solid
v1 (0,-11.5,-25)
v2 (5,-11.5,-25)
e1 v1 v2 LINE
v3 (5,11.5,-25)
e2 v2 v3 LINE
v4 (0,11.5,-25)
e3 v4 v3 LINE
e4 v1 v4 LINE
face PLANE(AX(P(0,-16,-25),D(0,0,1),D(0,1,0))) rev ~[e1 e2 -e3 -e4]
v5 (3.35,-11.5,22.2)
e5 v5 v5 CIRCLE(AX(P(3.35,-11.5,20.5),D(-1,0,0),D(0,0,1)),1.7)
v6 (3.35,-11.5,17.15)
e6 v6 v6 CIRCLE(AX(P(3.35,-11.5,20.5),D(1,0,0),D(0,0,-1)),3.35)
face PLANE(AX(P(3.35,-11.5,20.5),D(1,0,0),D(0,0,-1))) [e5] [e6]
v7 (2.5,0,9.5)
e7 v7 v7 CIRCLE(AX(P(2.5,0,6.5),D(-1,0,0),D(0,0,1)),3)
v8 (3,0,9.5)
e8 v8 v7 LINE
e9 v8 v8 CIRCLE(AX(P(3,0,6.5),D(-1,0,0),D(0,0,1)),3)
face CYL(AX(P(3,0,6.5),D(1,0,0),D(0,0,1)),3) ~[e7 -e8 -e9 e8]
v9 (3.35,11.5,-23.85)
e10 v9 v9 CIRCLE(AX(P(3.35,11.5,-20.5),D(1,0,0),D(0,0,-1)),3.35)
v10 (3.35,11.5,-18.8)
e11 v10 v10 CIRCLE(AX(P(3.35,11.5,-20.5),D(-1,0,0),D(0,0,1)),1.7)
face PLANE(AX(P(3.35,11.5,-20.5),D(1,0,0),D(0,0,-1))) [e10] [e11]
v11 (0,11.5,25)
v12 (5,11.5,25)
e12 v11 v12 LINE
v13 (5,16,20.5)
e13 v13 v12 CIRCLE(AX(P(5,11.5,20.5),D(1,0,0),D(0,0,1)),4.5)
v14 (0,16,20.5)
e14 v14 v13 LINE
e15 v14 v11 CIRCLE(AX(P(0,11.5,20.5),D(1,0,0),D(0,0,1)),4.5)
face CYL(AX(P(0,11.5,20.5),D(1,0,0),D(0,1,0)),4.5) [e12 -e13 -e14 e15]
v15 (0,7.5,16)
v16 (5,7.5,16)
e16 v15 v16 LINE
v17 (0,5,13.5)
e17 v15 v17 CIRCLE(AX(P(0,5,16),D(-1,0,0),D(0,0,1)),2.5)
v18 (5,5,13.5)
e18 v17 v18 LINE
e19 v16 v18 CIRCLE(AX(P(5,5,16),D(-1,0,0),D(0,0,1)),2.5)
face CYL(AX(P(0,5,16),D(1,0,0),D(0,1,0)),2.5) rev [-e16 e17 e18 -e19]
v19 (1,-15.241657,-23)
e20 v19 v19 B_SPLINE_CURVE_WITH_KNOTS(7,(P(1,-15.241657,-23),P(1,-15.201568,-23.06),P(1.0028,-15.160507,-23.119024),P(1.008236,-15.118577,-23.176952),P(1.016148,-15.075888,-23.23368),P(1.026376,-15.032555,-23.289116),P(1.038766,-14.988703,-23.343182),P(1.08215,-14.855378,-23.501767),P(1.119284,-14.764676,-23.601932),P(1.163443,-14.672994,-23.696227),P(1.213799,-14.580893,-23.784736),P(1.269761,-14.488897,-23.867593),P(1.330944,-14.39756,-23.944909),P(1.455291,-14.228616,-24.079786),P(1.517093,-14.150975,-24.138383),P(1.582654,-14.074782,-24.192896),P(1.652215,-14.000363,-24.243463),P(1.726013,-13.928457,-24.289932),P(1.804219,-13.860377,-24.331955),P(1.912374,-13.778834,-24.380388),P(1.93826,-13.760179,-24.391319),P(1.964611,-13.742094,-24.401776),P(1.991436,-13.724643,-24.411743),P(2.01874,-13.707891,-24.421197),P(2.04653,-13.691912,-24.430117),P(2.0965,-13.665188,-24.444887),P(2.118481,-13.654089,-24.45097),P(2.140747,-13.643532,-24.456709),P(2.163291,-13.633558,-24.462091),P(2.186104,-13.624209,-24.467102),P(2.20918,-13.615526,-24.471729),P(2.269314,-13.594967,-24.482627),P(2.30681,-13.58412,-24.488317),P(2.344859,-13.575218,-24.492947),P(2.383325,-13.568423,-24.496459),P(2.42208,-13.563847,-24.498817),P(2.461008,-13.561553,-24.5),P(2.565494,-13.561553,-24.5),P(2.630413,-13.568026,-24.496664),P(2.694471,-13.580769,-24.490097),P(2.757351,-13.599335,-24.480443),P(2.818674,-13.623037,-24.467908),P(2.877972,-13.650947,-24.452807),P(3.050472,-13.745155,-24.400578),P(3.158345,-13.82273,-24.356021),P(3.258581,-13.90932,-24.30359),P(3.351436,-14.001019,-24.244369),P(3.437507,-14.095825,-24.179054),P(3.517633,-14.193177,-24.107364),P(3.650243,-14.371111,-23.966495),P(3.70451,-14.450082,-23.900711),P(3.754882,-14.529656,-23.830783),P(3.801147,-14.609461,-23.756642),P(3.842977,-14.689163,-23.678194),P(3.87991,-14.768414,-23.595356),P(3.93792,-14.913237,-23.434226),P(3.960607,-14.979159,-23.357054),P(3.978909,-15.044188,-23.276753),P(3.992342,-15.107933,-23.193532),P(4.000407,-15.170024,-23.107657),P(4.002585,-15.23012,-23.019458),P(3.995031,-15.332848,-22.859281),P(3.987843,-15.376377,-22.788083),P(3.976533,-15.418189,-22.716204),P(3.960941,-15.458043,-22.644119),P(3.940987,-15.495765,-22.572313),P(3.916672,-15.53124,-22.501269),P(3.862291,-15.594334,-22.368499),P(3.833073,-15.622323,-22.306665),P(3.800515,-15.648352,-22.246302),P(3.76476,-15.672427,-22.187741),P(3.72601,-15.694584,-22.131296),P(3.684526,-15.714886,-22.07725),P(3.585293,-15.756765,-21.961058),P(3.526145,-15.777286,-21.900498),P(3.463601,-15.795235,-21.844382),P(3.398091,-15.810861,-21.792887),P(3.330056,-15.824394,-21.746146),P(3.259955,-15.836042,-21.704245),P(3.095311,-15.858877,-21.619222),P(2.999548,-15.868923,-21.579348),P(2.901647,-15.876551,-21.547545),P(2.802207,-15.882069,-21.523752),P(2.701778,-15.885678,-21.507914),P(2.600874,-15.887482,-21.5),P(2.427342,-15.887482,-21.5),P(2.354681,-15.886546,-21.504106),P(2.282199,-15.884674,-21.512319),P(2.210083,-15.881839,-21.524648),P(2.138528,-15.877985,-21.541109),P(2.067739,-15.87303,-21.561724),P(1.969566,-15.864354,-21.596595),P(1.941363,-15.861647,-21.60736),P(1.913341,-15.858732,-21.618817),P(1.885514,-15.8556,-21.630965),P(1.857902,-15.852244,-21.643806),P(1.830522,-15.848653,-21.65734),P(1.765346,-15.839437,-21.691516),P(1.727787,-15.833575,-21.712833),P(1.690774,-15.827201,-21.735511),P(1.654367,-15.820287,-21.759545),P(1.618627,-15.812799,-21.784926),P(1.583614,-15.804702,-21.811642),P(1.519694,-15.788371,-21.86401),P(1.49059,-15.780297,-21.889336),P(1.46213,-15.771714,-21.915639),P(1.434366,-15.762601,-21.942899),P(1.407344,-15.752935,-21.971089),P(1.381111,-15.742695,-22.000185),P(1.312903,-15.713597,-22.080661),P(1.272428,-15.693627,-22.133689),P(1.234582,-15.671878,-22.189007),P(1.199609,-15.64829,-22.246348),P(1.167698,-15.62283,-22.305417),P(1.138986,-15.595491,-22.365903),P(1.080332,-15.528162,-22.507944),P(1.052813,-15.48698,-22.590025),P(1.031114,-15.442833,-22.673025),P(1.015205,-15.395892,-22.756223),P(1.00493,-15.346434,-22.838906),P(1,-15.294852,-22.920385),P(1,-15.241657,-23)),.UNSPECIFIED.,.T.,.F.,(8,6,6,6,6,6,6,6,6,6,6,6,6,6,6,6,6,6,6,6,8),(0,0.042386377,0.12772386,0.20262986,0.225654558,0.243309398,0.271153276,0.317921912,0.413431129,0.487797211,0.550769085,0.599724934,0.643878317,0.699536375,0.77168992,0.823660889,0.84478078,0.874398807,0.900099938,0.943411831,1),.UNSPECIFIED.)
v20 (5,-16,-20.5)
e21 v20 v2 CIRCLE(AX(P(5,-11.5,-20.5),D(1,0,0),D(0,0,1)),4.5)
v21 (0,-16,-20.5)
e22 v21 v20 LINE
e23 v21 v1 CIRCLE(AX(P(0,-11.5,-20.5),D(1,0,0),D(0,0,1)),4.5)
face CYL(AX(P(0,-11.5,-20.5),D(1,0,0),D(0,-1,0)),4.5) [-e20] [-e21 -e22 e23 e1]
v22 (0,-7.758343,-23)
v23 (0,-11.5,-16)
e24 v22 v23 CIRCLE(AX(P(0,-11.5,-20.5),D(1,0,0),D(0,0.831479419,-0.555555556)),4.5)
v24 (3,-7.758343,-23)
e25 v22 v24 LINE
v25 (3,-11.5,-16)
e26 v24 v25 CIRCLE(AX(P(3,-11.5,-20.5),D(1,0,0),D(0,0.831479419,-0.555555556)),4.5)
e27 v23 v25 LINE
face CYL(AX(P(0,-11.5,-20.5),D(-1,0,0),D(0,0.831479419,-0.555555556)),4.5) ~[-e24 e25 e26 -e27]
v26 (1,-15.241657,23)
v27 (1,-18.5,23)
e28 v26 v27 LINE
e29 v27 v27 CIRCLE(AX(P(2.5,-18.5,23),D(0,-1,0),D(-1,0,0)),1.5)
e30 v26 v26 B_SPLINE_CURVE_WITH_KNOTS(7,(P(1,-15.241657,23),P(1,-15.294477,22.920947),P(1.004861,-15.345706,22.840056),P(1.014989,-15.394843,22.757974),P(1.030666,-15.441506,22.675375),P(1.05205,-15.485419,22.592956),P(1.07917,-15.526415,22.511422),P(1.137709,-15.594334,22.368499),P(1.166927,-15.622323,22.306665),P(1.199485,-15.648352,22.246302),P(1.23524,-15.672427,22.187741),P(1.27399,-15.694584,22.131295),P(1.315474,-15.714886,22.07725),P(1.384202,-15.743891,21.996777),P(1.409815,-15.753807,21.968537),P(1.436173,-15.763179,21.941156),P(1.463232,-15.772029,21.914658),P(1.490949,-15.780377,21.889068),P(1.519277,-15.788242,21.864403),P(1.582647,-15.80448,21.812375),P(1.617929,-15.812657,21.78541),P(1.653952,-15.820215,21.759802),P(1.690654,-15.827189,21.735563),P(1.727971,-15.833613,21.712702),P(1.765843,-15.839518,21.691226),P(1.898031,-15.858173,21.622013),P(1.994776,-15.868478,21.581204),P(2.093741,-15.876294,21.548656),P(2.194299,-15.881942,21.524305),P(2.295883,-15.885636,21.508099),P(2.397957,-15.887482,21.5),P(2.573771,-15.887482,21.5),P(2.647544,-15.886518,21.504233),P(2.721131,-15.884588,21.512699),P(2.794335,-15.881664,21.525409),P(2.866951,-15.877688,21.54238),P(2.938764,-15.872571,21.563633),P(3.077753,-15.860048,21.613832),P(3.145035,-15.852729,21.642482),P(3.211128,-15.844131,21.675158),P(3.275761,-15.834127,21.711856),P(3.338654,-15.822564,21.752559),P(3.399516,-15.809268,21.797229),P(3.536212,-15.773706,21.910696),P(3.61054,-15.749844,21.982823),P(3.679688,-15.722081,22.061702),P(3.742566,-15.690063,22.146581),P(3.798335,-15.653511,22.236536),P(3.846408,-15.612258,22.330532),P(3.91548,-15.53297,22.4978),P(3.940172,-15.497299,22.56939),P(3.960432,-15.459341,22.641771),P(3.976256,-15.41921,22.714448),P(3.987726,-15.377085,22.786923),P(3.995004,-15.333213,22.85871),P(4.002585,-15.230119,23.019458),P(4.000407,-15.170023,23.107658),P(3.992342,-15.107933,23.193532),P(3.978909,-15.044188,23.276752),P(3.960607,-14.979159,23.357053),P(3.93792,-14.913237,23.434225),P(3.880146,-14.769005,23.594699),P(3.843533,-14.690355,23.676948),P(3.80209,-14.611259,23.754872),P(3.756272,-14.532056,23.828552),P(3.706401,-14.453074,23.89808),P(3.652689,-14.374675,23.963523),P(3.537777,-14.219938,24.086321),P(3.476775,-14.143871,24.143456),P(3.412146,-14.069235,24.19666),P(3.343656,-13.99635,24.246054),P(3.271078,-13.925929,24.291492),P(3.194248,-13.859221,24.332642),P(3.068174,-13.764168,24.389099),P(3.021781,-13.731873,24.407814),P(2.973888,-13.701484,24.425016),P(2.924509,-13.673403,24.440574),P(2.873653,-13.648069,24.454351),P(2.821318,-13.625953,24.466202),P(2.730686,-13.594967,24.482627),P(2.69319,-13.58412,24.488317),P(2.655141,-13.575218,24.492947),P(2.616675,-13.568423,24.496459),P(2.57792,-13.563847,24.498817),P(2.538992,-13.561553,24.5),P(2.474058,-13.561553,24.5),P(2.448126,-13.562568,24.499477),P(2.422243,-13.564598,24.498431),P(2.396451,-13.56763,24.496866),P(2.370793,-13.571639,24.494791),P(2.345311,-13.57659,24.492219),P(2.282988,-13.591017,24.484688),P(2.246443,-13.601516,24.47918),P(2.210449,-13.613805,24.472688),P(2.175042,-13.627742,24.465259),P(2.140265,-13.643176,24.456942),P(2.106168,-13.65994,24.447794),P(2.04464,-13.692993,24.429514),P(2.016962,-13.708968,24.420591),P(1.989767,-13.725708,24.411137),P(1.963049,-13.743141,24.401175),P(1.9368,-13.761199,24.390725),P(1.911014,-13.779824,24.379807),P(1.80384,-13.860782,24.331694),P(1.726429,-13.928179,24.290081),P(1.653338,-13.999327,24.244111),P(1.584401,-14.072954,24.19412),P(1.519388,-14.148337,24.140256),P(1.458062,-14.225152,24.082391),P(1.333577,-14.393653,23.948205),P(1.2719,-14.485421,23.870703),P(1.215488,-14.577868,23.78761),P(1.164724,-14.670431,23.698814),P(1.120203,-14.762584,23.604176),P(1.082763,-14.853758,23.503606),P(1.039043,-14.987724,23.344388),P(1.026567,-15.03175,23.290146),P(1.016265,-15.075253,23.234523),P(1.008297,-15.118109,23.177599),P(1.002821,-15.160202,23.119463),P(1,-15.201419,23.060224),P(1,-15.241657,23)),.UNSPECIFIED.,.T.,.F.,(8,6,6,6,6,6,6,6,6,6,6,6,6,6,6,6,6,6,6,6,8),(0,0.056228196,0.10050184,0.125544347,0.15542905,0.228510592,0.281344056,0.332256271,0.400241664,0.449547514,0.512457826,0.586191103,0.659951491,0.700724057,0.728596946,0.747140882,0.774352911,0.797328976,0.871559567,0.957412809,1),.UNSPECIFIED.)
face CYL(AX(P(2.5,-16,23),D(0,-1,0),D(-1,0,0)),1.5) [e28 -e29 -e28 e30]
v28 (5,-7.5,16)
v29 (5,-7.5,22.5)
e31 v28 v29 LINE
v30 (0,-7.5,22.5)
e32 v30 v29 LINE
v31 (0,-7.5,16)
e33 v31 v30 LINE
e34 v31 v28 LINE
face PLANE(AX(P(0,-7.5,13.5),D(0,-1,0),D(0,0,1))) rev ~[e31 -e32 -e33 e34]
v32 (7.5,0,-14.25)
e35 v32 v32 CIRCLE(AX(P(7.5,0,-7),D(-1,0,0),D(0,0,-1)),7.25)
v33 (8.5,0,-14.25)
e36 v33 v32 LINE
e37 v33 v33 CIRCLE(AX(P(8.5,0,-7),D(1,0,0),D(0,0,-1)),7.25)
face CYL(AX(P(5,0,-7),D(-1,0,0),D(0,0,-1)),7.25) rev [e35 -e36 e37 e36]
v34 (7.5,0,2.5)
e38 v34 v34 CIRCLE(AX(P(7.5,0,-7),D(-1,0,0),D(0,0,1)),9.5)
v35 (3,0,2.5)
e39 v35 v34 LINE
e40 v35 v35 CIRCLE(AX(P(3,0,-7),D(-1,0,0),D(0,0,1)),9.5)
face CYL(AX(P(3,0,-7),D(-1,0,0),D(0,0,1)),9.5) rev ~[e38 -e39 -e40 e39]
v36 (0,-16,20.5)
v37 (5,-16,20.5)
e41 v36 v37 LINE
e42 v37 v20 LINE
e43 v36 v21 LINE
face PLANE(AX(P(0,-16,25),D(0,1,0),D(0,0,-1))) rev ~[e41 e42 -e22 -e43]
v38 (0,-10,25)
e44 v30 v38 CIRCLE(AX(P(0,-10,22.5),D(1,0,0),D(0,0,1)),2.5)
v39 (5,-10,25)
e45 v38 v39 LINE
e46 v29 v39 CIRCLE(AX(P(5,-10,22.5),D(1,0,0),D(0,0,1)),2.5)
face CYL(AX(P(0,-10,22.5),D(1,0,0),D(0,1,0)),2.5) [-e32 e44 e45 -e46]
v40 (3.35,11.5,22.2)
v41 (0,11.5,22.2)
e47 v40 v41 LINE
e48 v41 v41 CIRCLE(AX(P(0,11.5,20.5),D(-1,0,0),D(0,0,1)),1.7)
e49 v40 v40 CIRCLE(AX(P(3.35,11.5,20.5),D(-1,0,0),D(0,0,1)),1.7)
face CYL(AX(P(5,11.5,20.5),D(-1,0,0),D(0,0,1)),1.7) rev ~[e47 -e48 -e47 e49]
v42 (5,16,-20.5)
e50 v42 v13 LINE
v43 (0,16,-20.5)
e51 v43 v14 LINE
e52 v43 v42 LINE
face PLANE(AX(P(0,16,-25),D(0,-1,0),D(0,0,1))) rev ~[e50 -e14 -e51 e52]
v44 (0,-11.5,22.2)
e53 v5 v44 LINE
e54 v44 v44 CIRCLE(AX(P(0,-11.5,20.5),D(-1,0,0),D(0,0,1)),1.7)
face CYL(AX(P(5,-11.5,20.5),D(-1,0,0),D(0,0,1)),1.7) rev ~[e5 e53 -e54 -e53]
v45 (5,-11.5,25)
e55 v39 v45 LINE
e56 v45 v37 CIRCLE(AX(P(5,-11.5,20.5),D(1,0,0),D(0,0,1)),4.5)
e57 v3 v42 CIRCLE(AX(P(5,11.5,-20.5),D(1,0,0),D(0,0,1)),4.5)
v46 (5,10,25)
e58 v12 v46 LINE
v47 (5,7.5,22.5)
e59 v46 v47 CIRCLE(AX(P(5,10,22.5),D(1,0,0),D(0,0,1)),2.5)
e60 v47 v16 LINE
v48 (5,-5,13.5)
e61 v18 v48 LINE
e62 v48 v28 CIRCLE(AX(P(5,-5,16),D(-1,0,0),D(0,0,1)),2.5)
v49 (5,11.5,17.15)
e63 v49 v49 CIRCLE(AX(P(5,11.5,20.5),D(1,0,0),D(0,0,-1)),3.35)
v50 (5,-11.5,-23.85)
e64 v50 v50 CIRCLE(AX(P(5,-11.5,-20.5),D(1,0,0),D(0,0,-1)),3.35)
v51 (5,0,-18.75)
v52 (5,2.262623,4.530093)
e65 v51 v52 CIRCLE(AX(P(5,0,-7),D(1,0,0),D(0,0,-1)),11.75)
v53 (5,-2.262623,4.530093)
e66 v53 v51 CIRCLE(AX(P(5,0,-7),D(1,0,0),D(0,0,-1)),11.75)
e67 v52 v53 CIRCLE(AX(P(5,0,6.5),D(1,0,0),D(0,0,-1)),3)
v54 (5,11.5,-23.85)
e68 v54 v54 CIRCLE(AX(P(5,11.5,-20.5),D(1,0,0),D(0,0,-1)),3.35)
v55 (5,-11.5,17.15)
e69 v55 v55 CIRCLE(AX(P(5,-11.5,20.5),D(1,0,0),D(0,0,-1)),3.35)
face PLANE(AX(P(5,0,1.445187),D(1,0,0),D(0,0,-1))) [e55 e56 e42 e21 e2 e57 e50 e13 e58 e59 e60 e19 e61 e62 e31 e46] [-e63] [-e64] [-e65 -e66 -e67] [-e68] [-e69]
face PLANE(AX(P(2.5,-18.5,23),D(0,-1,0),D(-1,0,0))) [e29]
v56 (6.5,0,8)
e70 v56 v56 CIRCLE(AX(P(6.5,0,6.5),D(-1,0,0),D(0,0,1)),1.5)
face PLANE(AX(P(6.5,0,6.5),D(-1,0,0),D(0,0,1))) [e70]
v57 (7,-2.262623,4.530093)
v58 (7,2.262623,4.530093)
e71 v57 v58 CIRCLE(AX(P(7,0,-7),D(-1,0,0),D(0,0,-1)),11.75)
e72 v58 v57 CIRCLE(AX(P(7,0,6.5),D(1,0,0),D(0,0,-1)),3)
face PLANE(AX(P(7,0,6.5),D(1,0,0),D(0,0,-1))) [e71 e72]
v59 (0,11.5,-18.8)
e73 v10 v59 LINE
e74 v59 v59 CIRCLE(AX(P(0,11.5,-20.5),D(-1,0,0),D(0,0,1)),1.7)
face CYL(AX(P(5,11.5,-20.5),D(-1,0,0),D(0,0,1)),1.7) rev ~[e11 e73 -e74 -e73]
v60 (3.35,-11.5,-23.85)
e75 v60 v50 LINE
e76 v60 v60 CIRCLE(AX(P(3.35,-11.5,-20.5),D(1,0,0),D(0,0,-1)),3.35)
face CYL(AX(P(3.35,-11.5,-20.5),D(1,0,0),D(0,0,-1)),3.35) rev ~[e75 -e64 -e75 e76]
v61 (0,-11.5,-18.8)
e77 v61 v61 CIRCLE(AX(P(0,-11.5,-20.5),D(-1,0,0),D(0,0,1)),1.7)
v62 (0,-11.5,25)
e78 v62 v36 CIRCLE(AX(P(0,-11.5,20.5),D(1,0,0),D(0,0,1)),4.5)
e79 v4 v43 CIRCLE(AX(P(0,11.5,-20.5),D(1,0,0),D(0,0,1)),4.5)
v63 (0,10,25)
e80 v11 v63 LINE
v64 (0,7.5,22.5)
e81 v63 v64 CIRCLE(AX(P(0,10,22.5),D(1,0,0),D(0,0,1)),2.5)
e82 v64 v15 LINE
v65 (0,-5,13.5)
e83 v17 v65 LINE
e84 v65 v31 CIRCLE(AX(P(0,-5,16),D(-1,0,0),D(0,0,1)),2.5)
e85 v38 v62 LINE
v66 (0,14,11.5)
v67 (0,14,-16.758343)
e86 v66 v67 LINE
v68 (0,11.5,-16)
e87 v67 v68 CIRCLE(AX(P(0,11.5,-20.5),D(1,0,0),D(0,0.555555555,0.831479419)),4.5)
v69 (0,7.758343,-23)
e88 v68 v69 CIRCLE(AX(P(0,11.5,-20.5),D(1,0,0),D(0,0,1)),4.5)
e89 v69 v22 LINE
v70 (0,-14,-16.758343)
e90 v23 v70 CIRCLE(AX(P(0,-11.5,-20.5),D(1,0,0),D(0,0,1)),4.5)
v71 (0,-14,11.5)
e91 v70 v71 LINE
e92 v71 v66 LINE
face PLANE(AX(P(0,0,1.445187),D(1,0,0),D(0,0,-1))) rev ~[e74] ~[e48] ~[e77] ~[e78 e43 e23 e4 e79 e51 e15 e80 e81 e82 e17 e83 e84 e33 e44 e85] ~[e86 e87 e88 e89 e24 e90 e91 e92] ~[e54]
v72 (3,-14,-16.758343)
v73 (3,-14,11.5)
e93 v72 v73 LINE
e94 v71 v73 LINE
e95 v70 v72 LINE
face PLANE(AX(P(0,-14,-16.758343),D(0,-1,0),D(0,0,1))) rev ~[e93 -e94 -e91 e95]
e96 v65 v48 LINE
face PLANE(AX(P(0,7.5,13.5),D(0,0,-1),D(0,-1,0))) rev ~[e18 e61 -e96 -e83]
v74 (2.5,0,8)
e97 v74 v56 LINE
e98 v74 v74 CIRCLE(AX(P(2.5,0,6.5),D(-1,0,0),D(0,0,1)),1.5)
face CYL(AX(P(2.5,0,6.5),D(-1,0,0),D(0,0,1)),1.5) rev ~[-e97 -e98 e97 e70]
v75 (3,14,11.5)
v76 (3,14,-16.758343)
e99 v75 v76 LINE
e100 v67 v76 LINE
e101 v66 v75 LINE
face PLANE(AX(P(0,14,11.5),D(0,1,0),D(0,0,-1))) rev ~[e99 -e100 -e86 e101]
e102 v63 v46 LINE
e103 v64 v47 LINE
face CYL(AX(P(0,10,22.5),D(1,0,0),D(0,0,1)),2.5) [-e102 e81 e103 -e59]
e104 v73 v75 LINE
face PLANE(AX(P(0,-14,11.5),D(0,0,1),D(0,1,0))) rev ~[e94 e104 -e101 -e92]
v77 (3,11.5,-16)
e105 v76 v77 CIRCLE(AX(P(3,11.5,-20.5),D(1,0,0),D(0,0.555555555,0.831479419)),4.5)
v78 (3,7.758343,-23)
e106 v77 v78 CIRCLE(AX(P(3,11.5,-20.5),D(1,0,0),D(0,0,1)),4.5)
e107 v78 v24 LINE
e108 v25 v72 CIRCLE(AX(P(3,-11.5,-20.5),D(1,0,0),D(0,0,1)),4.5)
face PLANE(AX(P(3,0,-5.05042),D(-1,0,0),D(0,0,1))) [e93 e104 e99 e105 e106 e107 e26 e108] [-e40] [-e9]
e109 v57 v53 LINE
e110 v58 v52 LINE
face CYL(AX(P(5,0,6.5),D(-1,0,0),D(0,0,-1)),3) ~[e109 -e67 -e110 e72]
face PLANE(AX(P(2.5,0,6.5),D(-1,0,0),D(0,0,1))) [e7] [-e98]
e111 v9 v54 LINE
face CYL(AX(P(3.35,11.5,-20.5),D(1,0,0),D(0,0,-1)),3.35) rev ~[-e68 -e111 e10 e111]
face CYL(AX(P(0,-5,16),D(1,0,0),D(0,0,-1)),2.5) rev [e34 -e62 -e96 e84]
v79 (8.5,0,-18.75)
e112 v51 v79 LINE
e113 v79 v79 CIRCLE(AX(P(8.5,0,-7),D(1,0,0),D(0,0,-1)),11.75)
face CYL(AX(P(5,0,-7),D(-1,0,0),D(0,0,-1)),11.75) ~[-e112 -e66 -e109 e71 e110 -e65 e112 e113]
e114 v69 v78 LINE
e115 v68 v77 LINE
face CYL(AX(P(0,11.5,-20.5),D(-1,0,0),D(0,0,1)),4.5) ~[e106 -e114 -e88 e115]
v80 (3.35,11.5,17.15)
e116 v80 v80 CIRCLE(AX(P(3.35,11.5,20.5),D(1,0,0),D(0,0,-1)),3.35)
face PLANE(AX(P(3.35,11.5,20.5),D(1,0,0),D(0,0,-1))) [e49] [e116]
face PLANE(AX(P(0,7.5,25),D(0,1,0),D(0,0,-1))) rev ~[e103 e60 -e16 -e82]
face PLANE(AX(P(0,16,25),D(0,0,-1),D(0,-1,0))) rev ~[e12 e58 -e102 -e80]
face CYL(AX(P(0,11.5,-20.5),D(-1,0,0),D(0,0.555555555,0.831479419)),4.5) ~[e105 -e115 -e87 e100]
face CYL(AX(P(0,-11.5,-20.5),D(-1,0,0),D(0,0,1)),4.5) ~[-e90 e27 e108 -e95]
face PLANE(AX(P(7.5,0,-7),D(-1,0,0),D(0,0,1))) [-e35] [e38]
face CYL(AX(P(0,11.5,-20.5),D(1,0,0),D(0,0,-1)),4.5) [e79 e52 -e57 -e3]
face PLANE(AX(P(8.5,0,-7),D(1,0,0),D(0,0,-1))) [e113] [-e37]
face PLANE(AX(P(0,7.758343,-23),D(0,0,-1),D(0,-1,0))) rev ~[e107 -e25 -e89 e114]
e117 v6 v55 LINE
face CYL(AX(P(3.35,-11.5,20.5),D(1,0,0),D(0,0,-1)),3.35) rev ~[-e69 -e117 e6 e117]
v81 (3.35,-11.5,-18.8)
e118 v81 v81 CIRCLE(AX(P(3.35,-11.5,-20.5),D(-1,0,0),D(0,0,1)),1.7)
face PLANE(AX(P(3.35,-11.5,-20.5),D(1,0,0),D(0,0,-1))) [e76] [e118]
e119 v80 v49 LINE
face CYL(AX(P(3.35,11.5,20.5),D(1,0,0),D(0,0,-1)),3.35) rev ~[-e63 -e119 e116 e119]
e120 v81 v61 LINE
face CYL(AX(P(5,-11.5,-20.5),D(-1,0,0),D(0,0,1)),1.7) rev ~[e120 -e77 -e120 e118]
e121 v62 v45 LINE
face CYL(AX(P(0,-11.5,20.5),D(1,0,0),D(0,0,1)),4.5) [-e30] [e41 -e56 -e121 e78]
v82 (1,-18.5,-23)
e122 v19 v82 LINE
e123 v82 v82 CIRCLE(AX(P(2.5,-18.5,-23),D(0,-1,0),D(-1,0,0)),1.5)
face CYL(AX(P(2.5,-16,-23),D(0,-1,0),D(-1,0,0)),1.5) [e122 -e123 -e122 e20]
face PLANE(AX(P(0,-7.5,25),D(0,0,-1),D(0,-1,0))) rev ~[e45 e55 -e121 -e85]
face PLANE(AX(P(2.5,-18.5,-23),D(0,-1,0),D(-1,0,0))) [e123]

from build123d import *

# Parameters (mm, degrees)
SKETCH1_R                       = 7.25
BOSS_EXTRUDE1_DEPTH             = 5
SKETCH2_R                       = 11.75
SKETCH2_R_2                     = 7.25
BOSS_EXTRUDE2_DEPTH             = 3.5
FILLET1_R                       = 4.5
FILLET2_R                       = 2.5
SKETCH3_R                       = 1.5
BOSS_EXTRUDE3_DEPTH             = 2.5
BOSS_EXTRUDE3_DIRECTION_2_REACH = 34
CBORE_FOR_M3_SBHCS1_D           = 3.4
CBORE_FOR_M3_SBHCS1_CBORE_D     = 6.7
CBORE_FOR_M3_SBHCS1_CBORE_DEPTH = 1.65
SKETCH6_R                       = 7.25
CUT_EXTRUDE1_DEPTH              = 3
SKETCH7_R                       = 9.5
CUT_EXTRUDE2_DEPTH              = 4.5
SKETCH10_R                      = 3
BOSS_EXTRUDE5_DEPTH             = 2
SKETCH11_R                      = 3
BOSS_EXTRUDE6_DEPTH             = 0.5
SKETCH12_R                      = 1.5
CUT_EXTRUDE4_DEPTH              = 4


with BuildPart() as part:
    # Sketch1 → Boss-Extrude1 (new body)
    with BuildSketch(Plane(origin=(0, 0, 0), x_dir=(0, 0, -1), z_dir=(1, 0, 0))):
        Polygon((-25, 16), (-25, 7.5), (-13.5, 7.5), (-13.5, -7.5), (-25, -7.5), (-25, -16), (25, -16), (25, 16), align=None)
        with Locations((7, 0)):
            Circle(SKETCH1_R, mode=Mode.SUBTRACT)
    extrude(amount=BOSS_EXTRUDE1_DEPTH)

    # Sketch2 → Boss-Extrude2 (add)
    with BuildSketch(Plane(origin=(5, 0, 0), x_dir=(0, 0, -1), z_dir=(1, 0, 0))):
        with Locations((7, 0)):
            Circle(SKETCH2_R)
        with Locations((7, 0)):
            Circle(SKETCH2_R_2, mode=Mode.SUBTRACT)
    extrude(amount=BOSS_EXTRUDE2_DEPTH)

    # Fillet1
    fillet1_edges = [part.edges().sort_by_distance(p)[0] for p in [
        (2.5, 16, 25),
        (2.5, 16, -25),
        (2.5, -16, -25),
        (2.5, -16, 25),
    ]]
    fillet(fillet1_edges, radius=FILLET1_R)

    # Fillet2
    fillet2_edges = [part.edges().sort_by_distance(p)[0] for p in [
        (2.5, 7.5, 13.5),
        (2.5, 7.5, 25),
        (2.5, -7.5, 25),
        (2.5, -7.5, 13.5),
    ]]
    fillet(fillet2_edges, radius=FILLET2_R)

    # Sketch3 → Boss-Extrude3 (add)
    with BuildSketch(Plane(origin=(0, -16, 0), x_dir=(-1, 0, 0), z_dir=(0, -1, 0))):
        with Locations((-2.5, -23)):
            Circle(SKETCH3_R)
        with Locations((-2.5, 23)):
            Circle(SKETCH3_R)
    extrude(amount=BOSS_EXTRUDE3_DEPTH)

    # Sketch3 → Boss-Extrude3 direction 2 (add, up to next)
    with BuildSketch(Plane(origin=(0, -16, 0), x_dir=(-1, 0, 0), z_dir=(0, -1, 0)), mode=Mode.PRIVATE) as boss_extrude3_direction_2_sk1:
        with Locations((-2.5, -23)):
            Circle(SKETCH3_R)
    boss_extrude3_direction_2_tool1 = extrude(boss_extrude3_direction_2_sk1.sketch, amount=-BOSS_EXTRUDE3_DIRECTION_2_REACH, mode=Mode.PRIVATE) - part.part
    add(boss_extrude3_direction_2_tool1.solids().sort_by_distance((2.5, -16, 23))[0])
    # Sketch3 → Boss-Extrude3 direction 2 (add, up to next)
    with BuildSketch(Plane(origin=(0, -16, 0), x_dir=(-1, 0, 0), z_dir=(0, -1, 0)), mode=Mode.PRIVATE) as boss_extrude3_direction_2_sk2:
        with Locations((-2.5, 23)):
            Circle(SKETCH3_R)
    boss_extrude3_direction_2_tool2 = extrude(boss_extrude3_direction_2_sk2.sketch, amount=-BOSS_EXTRUDE3_DIRECTION_2_REACH, mode=Mode.PRIVATE) - part.part
    add(boss_extrude3_direction_2_tool2.solids().sort_by_distance((2.5, -16, -23))[0])

    # CBORE for M3 SBHCS1 (through all)
    with Locations(Plane(origin=(5, 0, 0), x_dir=(0, 0, -1), z_dir=(1, 0, 0))):
        with Locations((-20.5, 11.5), (-20.5, -11.5), (20.5, 11.5), (20.5, -11.5)):
            CounterBoreHole(CBORE_FOR_M3_SBHCS1_D / 2, CBORE_FOR_M3_SBHCS1_CBORE_D / 2, CBORE_FOR_M3_SBHCS1_CBORE_DEPTH)

    # Sketch6 → Cut-Extrude1 (cut)
    with BuildSketch(Plane.ZY):
        with BuildLine():
            Line((11.5, 5), (11.5, 14))
            Line((11.5, 14), (-16.758342613, 14))
            ThreePointArc((-16.758342613, 14), (-16.19375696, 12.80624304), (-16, 11.5))
            ThreePointArc((-16, 11.5), (-18.378679656, 7.531373033), (-23, 7.758342613))
            Line((-23, 7.758342613), (-23, -7.758342613))
            ThreePointArc((-23, -7.758342613), (-18.378679656, -7.531373033), (-16, -11.5))
            ThreePointArc((-16, -11.5), (-16.19375696, -12.80624304), (-16.758342613, -14))
            Line((-16.758342613, -14), (11.5, -14))
            Line((11.5, -14), (11.5, -5))
            Line((11.5, -5), (11.5, 5))
        make_face()
        with Locations((-7, 0)):
            Circle(SKETCH6_R, mode=Mode.SUBTRACT)
    extrude(amount=-CUT_EXTRUDE1_DEPTH, mode=Mode.SUBTRACT)

    # Sketch7 → Cut-Extrude2 (cut)
    with BuildSketch(Plane.ZY.offset(-3)):
        with Locations((-7, 0)):
            Circle(SKETCH7_R)
    extrude(amount=-CUT_EXTRUDE2_DEPTH, mode=Mode.SUBTRACT)

    # Sketch10 → Boss-Extrude5 (add)
    with BuildSketch(Plane(origin=(5, 0, 0), x_dir=(0, 0, -1), z_dir=(1, 0, 0))):
        with Locations((-6.5, 0)):
            Circle(SKETCH10_R)
    extrude(amount=BOSS_EXTRUDE5_DEPTH)

    # Sketch11 → Boss-Extrude6 (add)
    with BuildSketch(Plane.ZY.offset(-3)):
        with Locations((6.5, 0)):
            Circle(SKETCH11_R)
    extrude(amount=BOSS_EXTRUDE6_DEPTH)

    # Sketch12 → Cut-Extrude4 (cut)
    with BuildSketch(Plane.ZY.offset(-2.5)):
        with Locations((6.5, 0)):
            Circle(SKETCH12_R)
    extrude(amount=-CUT_EXTRUDE4_DEPTH, mode=Mode.SUBTRACT)


solid = part.part
